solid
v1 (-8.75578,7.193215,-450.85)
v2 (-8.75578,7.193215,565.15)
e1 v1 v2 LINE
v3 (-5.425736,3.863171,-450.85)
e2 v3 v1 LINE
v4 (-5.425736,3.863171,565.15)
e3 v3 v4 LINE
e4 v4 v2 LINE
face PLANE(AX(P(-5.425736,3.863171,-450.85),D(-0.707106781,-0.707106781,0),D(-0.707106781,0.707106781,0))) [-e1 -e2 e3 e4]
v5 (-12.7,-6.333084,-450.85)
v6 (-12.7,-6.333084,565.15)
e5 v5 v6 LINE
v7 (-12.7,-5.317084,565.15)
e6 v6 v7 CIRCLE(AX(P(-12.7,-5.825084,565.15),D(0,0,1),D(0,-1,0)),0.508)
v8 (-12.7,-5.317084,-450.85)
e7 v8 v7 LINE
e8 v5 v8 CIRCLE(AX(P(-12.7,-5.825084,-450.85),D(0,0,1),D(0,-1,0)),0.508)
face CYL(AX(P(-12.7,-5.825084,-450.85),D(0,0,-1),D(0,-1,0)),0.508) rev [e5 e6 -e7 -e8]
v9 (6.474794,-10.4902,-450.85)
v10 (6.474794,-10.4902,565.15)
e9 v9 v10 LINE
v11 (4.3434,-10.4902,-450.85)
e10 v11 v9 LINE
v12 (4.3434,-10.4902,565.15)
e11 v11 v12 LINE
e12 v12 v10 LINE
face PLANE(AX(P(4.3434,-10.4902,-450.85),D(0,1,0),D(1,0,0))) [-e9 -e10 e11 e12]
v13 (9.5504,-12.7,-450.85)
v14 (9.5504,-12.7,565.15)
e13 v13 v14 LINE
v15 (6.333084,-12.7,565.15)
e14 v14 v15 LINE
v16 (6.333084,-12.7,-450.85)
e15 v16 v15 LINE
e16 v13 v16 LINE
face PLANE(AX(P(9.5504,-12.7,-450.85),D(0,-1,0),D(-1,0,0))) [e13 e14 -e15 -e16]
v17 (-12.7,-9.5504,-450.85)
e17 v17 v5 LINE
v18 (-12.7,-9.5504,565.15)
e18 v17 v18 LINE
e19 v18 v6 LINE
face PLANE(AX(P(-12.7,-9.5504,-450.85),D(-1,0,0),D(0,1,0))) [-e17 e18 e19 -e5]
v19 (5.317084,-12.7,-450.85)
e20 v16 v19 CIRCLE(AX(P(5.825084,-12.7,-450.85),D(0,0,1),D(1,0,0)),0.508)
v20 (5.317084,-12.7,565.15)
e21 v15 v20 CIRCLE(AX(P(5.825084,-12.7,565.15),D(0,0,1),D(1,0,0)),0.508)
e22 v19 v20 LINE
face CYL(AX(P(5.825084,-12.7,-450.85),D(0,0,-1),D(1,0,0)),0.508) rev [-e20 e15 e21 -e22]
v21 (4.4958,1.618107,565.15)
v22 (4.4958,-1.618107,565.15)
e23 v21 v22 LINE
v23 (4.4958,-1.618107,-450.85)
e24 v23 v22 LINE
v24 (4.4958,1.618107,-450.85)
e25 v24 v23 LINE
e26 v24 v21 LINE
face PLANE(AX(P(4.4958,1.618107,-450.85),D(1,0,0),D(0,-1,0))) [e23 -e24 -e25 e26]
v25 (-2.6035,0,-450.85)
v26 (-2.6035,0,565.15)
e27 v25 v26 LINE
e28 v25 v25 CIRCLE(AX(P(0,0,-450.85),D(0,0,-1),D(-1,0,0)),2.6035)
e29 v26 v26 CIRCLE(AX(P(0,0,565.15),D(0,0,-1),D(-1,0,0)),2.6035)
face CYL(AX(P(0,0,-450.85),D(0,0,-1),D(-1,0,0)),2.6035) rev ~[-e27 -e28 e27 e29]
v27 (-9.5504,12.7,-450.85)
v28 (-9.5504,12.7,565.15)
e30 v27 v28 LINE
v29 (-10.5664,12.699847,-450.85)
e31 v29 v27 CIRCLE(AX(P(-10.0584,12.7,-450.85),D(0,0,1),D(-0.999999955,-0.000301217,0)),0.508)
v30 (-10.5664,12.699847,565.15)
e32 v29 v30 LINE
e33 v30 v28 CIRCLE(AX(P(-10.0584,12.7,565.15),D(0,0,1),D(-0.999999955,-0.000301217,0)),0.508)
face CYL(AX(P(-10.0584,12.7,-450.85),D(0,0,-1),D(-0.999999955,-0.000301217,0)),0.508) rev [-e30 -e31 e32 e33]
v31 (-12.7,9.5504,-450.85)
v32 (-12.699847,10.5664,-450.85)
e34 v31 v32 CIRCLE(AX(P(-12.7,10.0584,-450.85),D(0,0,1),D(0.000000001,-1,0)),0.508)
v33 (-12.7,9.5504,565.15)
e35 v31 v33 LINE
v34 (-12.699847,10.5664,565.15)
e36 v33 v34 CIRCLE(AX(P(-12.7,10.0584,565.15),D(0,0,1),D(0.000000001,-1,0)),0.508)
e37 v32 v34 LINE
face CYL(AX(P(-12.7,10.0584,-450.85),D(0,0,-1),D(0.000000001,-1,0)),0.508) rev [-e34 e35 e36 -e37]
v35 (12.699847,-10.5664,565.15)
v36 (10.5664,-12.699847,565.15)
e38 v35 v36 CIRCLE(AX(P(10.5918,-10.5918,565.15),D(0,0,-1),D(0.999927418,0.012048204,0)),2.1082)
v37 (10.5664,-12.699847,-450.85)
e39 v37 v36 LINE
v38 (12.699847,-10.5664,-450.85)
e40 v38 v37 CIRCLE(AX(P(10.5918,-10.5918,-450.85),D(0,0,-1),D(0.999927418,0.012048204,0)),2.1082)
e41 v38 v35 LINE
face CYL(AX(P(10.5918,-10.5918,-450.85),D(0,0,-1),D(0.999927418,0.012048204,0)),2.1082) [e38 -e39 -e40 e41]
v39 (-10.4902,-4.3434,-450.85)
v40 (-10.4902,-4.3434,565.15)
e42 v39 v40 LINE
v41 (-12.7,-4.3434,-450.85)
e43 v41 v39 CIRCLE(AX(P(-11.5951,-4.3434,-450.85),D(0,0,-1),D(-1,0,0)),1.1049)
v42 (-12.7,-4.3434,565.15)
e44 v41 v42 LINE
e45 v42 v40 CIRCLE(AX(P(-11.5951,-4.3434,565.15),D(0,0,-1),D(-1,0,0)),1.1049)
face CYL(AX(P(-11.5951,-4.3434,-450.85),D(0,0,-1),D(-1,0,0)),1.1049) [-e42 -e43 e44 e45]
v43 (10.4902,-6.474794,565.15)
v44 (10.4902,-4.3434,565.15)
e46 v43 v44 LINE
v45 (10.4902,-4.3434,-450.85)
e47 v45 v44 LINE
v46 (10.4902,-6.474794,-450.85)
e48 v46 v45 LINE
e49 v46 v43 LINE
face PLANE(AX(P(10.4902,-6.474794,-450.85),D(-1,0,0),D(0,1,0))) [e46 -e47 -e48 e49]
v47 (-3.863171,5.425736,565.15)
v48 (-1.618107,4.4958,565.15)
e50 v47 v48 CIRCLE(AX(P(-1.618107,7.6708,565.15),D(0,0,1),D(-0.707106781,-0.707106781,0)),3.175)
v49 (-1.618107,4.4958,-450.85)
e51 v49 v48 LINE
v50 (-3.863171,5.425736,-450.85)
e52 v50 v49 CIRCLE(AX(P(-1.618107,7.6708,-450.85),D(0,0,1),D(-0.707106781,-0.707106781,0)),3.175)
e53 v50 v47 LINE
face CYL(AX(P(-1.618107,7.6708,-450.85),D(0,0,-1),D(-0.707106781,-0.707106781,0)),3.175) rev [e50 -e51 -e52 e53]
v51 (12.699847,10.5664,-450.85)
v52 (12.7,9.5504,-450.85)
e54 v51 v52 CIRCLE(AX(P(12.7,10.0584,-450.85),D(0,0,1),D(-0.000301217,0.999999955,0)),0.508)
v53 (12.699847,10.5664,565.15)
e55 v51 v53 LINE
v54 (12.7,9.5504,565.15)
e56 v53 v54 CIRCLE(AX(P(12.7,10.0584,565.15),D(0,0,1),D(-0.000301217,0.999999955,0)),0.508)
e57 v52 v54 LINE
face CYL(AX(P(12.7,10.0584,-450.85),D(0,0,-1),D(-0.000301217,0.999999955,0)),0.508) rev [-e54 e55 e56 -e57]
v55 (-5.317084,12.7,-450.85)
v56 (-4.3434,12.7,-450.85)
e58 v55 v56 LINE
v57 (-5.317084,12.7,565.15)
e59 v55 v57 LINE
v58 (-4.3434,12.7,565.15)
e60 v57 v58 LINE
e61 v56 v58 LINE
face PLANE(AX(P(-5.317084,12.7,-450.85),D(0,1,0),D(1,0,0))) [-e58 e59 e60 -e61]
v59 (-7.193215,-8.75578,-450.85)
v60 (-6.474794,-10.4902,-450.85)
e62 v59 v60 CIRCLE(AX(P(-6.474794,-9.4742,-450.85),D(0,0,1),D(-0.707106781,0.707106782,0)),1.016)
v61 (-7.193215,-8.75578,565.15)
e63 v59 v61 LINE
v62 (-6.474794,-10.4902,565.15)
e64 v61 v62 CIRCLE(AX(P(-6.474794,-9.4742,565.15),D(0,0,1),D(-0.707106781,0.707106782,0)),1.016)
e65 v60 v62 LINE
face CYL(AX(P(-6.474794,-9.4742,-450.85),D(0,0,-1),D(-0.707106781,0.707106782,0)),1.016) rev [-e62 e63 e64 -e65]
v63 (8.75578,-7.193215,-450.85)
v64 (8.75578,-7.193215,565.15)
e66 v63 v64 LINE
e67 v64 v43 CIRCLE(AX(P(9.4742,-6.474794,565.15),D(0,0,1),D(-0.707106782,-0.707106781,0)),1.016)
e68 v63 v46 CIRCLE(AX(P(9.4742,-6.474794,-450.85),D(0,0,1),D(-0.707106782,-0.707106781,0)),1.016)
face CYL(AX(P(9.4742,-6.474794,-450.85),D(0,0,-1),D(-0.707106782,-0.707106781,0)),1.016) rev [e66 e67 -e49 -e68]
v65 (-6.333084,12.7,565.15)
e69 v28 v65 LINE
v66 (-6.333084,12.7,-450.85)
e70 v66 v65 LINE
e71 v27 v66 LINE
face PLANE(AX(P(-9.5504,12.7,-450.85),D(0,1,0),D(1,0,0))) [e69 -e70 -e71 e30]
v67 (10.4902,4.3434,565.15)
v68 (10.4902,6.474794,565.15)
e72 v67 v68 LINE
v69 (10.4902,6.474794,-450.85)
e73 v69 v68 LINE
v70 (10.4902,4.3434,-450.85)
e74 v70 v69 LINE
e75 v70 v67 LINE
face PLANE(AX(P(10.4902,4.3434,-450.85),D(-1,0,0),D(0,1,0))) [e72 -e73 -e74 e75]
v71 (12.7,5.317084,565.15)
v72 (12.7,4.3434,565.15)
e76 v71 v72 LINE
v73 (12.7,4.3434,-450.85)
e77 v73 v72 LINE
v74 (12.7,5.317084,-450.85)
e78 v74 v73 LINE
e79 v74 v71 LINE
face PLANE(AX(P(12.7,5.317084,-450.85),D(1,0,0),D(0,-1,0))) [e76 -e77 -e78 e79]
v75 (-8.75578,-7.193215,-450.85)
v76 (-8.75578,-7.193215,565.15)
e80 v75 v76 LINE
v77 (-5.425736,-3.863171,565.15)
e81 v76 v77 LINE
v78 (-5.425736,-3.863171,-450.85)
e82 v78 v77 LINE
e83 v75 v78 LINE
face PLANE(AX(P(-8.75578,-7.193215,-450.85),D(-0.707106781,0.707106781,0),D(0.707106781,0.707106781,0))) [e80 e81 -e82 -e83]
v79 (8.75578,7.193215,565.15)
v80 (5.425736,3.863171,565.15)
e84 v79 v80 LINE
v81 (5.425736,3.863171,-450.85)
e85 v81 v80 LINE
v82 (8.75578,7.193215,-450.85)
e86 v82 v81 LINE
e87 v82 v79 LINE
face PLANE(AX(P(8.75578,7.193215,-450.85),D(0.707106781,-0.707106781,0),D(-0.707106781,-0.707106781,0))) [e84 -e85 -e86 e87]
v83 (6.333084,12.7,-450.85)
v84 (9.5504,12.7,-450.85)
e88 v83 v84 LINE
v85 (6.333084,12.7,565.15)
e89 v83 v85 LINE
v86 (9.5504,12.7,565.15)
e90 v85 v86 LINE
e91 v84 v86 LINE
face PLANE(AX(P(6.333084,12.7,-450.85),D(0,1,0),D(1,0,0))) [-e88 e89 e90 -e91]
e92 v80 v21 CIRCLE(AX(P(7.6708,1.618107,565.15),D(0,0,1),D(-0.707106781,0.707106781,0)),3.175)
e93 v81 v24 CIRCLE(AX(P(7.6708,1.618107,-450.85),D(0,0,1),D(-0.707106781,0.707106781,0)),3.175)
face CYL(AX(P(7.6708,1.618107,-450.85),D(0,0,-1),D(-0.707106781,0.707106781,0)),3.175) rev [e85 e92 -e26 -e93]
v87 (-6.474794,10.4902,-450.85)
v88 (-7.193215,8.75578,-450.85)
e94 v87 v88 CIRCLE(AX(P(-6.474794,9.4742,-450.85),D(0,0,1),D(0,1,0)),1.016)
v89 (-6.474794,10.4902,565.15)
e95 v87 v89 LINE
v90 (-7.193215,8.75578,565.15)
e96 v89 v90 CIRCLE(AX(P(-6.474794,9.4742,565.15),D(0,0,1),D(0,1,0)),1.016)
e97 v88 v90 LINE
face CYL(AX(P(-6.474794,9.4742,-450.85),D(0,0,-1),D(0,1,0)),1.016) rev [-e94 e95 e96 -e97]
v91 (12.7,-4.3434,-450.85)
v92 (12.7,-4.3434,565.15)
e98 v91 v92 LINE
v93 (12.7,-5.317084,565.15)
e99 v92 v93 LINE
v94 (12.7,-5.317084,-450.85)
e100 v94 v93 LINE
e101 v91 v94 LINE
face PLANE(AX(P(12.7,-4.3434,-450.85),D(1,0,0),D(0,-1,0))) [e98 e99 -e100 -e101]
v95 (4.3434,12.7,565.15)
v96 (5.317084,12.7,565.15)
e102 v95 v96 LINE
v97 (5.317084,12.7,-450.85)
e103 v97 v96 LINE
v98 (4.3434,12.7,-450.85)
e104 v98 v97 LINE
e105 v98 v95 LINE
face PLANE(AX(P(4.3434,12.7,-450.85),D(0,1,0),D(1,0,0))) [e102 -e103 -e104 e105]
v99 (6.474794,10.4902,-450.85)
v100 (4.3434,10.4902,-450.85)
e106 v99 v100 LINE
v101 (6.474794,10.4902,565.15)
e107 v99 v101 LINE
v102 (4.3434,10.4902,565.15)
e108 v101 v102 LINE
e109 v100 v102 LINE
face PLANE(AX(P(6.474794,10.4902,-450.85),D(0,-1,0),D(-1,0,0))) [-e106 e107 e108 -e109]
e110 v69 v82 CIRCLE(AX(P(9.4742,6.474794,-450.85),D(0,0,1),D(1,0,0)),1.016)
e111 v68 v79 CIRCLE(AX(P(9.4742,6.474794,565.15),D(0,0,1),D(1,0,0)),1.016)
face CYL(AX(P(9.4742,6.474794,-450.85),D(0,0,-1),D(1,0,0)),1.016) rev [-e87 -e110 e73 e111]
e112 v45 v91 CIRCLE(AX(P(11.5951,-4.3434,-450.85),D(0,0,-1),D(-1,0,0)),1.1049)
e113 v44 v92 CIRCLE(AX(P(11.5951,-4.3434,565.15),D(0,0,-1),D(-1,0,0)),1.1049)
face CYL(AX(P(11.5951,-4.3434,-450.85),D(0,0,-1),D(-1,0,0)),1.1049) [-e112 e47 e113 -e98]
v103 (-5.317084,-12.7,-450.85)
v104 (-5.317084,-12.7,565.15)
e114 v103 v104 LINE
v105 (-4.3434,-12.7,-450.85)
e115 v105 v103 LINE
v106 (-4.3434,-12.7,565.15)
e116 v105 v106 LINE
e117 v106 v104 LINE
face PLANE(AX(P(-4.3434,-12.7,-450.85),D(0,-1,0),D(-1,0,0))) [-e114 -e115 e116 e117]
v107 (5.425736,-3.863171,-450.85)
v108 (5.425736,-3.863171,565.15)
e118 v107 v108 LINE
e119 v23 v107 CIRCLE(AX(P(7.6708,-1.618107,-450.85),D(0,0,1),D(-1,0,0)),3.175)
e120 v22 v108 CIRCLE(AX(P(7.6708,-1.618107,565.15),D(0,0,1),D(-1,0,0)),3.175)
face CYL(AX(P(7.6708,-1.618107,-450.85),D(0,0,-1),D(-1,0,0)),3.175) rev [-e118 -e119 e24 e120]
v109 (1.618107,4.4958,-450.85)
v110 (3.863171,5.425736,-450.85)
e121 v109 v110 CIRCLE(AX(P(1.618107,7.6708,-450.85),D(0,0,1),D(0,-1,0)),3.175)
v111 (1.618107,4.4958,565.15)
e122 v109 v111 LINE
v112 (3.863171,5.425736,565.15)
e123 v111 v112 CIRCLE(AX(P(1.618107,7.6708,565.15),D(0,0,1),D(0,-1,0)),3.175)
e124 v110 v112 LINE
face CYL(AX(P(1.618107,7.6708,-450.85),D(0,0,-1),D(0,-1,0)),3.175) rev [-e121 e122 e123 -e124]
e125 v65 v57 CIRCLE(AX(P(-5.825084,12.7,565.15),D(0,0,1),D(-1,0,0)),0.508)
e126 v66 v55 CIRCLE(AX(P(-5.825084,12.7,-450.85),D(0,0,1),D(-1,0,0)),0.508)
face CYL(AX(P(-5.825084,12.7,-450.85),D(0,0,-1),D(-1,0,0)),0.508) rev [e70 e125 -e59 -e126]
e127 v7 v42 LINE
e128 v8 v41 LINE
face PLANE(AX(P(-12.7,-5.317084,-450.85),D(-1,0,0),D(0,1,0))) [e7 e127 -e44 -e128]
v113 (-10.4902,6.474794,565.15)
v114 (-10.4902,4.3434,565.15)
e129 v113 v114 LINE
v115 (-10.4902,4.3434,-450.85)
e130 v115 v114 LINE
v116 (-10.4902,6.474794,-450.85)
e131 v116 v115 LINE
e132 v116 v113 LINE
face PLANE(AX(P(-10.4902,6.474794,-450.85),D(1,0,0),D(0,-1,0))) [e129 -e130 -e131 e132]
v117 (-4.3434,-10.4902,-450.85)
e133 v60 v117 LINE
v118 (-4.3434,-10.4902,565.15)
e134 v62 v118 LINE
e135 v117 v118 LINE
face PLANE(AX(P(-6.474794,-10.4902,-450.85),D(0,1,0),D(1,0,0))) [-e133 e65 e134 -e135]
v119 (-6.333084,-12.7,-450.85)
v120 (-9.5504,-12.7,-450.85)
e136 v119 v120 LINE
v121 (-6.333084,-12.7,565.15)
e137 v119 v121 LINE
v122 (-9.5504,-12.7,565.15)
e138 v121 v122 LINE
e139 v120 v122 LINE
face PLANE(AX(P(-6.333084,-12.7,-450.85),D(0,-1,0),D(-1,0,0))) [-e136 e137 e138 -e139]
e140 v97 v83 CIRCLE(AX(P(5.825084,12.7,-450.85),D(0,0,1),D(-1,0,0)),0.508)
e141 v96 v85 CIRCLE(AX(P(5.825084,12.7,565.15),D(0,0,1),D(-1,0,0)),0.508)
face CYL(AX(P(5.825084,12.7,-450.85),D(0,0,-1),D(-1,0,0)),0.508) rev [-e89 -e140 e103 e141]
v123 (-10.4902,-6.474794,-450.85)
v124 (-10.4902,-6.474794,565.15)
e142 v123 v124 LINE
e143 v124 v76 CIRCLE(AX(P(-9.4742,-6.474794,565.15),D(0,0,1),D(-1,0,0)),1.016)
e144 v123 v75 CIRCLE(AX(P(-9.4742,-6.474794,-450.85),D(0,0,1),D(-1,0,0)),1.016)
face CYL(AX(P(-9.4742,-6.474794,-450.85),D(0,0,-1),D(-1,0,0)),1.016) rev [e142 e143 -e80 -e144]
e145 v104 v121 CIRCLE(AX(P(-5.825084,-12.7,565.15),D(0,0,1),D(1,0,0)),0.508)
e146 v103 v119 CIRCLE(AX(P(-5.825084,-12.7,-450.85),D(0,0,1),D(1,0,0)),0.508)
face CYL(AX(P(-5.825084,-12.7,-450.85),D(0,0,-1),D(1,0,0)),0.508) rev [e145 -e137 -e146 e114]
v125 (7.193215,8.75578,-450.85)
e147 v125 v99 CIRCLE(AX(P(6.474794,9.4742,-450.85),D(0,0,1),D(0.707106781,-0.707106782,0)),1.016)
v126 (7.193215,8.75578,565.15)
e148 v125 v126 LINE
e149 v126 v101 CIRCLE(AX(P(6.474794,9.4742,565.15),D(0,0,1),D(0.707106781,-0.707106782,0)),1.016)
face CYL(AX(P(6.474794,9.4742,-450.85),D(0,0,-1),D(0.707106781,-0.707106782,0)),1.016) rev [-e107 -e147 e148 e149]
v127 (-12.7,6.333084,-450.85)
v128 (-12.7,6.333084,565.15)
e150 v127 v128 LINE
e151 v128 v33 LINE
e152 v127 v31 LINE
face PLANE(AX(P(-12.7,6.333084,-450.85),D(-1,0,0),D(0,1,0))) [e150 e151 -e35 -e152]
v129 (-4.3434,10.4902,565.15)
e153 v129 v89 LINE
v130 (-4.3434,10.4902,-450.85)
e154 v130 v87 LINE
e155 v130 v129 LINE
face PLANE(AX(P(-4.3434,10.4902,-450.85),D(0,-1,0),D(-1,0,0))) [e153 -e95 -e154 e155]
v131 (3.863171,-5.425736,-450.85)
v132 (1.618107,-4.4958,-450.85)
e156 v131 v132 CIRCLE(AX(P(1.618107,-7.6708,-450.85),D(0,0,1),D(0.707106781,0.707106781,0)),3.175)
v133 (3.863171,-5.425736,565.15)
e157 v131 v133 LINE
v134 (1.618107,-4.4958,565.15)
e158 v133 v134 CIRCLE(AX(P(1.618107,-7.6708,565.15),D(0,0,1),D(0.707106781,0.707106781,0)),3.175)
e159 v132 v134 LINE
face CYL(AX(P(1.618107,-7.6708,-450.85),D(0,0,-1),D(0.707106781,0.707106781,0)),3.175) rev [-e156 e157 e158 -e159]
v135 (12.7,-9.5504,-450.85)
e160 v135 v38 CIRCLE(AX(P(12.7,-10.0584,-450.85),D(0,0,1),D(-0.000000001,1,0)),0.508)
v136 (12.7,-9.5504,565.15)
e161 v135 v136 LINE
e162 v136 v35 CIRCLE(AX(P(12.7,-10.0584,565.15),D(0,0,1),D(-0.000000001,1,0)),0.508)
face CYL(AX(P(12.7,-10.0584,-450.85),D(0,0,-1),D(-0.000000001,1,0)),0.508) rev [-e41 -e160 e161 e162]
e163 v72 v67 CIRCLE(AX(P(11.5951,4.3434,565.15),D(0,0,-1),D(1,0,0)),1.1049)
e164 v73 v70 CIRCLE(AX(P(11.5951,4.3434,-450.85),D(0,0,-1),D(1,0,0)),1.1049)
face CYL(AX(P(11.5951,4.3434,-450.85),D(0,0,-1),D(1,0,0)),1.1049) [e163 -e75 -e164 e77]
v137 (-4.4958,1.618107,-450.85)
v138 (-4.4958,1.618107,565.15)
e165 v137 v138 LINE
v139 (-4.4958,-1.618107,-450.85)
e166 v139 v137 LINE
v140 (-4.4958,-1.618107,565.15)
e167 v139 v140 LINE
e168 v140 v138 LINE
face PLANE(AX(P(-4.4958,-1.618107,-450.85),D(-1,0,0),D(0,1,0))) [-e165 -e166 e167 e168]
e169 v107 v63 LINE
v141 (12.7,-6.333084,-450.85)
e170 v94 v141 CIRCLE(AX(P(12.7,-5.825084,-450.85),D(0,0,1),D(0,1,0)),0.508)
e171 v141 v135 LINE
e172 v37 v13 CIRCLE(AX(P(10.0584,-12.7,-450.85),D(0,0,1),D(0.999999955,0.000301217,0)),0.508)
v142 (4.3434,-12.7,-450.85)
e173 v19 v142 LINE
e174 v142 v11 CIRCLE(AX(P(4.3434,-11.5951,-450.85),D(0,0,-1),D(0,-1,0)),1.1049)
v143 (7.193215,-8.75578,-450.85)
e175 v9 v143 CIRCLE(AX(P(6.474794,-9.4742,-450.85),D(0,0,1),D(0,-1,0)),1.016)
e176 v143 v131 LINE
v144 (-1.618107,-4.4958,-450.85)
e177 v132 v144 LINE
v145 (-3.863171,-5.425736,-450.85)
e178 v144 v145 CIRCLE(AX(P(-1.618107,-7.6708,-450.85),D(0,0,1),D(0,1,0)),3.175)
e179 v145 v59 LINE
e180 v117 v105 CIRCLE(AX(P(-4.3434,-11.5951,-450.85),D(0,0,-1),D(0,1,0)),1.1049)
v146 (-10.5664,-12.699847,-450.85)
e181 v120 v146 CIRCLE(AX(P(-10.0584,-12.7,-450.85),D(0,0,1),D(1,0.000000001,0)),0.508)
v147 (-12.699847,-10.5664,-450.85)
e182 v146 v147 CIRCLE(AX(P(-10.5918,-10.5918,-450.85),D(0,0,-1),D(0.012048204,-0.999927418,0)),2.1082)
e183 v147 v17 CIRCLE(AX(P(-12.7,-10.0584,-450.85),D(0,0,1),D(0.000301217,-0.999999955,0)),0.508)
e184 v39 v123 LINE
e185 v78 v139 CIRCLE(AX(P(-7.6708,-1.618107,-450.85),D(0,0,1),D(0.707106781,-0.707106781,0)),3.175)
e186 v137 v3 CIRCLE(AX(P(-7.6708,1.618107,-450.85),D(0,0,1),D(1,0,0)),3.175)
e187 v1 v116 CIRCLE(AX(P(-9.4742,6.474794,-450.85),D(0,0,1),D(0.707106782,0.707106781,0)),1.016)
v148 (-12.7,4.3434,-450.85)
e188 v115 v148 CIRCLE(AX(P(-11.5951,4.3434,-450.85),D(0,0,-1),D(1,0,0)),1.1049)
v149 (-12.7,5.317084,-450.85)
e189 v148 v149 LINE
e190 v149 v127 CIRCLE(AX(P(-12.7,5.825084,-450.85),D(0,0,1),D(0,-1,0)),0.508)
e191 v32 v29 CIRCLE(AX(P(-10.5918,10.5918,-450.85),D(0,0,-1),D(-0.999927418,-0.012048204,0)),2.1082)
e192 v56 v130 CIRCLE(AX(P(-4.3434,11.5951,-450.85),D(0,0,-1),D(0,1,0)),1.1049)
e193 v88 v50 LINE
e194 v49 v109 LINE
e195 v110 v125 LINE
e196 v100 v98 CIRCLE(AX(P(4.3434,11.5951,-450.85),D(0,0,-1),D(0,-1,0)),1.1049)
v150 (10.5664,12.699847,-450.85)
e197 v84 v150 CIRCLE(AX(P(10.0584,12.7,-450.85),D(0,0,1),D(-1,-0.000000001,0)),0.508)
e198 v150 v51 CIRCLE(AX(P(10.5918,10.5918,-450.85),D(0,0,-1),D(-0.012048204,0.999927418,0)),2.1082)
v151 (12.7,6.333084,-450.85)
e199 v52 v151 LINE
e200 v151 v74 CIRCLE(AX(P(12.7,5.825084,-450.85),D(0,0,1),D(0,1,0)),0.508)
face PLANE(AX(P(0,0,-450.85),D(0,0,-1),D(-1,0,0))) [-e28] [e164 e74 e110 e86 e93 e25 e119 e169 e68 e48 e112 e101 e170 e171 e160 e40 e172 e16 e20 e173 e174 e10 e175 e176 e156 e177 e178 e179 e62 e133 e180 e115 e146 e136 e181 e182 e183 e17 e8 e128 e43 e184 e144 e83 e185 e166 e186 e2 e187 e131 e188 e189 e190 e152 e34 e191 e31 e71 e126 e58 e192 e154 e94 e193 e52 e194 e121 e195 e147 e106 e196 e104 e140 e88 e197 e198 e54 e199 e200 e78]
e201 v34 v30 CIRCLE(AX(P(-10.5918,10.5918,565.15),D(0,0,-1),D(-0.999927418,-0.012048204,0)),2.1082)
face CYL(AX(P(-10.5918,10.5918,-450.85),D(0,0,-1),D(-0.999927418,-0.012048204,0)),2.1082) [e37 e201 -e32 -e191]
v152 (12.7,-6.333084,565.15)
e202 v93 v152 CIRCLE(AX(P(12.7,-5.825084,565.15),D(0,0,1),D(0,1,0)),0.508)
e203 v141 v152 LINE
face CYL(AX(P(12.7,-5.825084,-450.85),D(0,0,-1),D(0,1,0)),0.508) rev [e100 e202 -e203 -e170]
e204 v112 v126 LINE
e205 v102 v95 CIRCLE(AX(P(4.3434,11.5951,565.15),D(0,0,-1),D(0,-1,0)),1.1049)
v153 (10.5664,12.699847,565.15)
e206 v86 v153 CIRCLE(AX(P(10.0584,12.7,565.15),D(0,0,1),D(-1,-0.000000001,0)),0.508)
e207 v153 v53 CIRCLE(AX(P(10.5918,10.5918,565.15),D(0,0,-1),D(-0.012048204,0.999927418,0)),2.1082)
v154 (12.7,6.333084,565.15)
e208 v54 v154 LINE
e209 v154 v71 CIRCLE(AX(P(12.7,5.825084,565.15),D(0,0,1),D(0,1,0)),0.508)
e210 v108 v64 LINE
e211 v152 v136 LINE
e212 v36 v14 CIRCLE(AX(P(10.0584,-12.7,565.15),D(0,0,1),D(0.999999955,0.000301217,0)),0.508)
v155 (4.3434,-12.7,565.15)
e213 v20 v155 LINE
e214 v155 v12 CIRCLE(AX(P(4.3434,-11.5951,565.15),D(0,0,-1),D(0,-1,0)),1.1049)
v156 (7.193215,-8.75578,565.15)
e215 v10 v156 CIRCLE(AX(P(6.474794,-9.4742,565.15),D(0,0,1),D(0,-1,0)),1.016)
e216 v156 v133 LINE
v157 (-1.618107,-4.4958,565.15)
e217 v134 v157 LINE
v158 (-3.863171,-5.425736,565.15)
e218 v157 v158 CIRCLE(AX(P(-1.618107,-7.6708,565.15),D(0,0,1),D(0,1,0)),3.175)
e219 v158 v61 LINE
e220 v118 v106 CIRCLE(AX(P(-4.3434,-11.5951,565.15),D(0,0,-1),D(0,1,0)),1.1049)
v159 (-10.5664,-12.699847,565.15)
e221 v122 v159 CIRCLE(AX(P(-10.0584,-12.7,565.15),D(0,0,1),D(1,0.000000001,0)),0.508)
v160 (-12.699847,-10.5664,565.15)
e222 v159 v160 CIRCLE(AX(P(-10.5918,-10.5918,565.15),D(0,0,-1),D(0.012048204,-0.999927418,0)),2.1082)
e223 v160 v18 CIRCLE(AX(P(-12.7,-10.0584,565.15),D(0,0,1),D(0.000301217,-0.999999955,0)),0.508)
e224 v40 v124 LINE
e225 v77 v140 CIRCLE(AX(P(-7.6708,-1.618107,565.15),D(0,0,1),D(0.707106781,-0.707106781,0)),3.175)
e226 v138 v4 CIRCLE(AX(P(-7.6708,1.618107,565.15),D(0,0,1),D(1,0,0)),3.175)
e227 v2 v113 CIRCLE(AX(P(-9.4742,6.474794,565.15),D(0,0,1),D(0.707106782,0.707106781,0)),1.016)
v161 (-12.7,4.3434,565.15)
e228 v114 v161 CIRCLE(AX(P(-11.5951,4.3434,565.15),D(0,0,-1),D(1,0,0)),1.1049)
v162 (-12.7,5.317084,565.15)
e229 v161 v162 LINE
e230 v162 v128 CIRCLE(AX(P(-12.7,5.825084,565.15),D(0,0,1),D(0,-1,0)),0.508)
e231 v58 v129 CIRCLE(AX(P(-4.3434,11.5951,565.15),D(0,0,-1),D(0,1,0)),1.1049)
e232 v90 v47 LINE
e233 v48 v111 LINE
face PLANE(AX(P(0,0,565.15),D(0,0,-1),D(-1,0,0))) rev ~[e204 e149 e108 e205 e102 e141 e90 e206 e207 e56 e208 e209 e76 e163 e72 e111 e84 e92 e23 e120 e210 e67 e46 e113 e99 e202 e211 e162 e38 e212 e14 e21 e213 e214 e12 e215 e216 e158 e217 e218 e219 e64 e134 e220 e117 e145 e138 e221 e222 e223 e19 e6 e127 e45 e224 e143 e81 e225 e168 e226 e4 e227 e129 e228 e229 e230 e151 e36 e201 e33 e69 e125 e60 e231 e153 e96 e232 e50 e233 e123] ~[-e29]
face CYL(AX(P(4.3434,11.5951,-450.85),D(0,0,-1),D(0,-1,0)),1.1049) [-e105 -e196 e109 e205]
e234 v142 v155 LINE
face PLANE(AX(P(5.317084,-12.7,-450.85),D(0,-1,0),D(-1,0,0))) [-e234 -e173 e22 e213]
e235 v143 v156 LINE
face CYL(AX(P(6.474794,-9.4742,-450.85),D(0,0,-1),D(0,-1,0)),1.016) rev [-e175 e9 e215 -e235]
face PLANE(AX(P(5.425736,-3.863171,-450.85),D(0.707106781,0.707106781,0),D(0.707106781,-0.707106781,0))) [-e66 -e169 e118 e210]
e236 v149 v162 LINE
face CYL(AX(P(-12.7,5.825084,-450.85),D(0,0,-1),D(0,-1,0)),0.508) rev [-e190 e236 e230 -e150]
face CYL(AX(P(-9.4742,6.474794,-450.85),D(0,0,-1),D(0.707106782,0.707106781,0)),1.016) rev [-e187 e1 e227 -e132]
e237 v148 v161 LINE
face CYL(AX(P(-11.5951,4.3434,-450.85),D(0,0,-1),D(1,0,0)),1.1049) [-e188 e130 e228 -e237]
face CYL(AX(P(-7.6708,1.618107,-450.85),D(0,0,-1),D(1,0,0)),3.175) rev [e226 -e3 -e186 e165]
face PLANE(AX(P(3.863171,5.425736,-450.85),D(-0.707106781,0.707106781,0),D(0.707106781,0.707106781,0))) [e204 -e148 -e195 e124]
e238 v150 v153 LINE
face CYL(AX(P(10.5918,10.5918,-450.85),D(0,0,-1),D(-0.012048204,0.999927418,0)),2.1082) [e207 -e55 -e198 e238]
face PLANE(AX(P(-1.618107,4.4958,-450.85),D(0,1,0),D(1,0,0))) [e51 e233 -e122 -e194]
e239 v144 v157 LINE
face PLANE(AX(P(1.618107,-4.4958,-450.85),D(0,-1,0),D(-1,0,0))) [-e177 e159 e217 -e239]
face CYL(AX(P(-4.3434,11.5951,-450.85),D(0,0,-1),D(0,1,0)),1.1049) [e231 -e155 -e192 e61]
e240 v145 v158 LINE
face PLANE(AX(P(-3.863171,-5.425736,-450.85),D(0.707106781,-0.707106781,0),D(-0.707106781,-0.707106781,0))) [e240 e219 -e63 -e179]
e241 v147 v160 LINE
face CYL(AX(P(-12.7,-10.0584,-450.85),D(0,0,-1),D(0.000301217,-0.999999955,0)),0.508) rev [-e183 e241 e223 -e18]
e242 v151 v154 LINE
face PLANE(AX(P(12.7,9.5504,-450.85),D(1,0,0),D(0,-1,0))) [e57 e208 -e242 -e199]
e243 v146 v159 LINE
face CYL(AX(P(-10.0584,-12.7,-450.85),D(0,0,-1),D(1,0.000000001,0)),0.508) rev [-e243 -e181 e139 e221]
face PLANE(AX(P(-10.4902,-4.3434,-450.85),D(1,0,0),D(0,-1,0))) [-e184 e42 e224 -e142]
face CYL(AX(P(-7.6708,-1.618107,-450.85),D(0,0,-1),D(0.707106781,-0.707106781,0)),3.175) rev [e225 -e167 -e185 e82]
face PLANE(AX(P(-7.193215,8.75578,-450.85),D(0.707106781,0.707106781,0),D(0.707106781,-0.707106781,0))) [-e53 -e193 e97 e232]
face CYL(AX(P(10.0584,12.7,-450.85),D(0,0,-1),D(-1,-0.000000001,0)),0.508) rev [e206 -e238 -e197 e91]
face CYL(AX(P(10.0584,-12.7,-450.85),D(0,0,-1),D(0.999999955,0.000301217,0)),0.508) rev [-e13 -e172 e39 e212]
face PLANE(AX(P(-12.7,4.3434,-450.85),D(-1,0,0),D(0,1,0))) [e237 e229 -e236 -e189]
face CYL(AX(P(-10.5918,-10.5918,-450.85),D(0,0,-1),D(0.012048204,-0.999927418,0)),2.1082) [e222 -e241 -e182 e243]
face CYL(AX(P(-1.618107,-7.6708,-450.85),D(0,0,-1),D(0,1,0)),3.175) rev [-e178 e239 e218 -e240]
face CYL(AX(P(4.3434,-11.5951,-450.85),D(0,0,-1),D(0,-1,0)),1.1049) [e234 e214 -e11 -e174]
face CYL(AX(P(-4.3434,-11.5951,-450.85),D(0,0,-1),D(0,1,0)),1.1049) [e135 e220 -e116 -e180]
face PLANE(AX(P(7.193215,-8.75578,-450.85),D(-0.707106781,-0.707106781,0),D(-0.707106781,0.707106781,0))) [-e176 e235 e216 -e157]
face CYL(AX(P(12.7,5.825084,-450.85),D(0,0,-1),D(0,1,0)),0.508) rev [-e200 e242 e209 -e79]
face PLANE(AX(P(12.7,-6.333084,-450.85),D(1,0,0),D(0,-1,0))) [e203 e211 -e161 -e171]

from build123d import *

# Parameters (mm, degrees)
SKETCH1_R           = 2.6035
BOSS_EXTRUDE1_DEPTH = 1016


with BuildPart() as part:
    # Sketch1 → Boss-Extrude1 (new body)
    with BuildSketch(Plane(origin=(0, 0, -450.85), x_dir=(-1, 0, 0), z_dir=(0, 0, -1))):
        with BuildLine():
            Line((12.7, -9.5504), (12.7, -6.3330836))
            ThreePointArc((12.7, -6.3330836), (12.192, -5.8250836), (12.7, -5.3170836))
            Line((12.7, -5.3170836), (12.7, -4.3434))
            ThreePointArc((12.7, -4.3434), (11.5951, -3.2385), (10.4902, -4.3434))
            Line((10.4902, -4.3434), (10.4902, -6.474794456))
            ThreePointArc((10.4902, -6.474794456), (9.863006367, -7.413456061), (8.75577951, -7.193214945))
            Line((8.75577951, -7.193214945), (5.42573597, -3.863171405))
            ThreePointArc((5.42573597, -3.863171405), (4.737482484, -2.833127272), (4.4958, -1.618107374))
            Line((4.4958, -1.618107374), (4.4958, 1.618107374))
            ThreePointArc((4.4958, 1.618107374), (4.737482484, 2.833127272), (5.42573597, 3.863171405))
            Line((5.42573597, 3.863171405), (8.75577951, 7.193214945))
            ThreePointArc((8.75577951, 7.193214945), (9.863006367, 7.413456061), (10.4902, 6.474794456))
            Line((10.4902, 6.474794456), (10.4902, 4.343399971))
            ThreePointArc((10.4902, 4.343399971), (11.5951, 3.238499971), (12.7, 4.343399971))
            Line((12.7, 4.343399971), (12.7, 5.3170836))
            ThreePointArc((12.7, 5.3170836), (12.192, 5.8250836), (12.7, 6.3330836))
            Line((12.7, 6.3330836), (12.7, 9.5504))
            ThreePointArc((12.7, 9.5504), (12.192000006, 10.058323491), (12.699846982, 10.566399977))
            ThreePointArc((12.699846982, 10.566399977), (12.082522516, 12.082522516), (10.566399977, 12.699846982))
            ThreePointArc((10.566399977, 12.699846982), (10.058323491, 12.192000006), (9.5504, 12.7))
            Line((9.5504, 12.7), (6.3330836, 12.7))
            ThreePointArc((6.3330836, 12.7), (5.8250836, 12.192), (5.3170836, 12.7))
            Line((5.3170836, 12.7), (4.3434, 12.7))
            ThreePointArc((4.3434, 12.7), (3.2385, 11.5951), (4.3434, 10.4902))
            Line((4.3434, 10.4902), (6.474794456, 10.4902))
            ThreePointArc((6.474794456, 10.4902), (7.413456061, 9.863006367), (7.193214945, 8.75577951))
            Line((7.193214945, 8.75577951), (3.863171405, 5.42573597))
            ThreePointArc((3.863171405, 5.42573597), (2.833127272, 4.737482484), (1.618107374, 4.4958))
            Line((1.618107374, 4.4958), (-1.618107374, 4.4958))
            ThreePointArc((-1.618107374, 4.4958), (-2.833127272, 4.737482484), (-3.863171405, 5.42573597))
            Line((-3.863171405, 5.42573597), (-7.193214945, 8.75577951))
            ThreePointArc((-7.193214945, 8.75577951), (-7.413456061, 9.863006367), (-6.474794456, 10.4902))
            Line((-6.474794456, 10.4902), (-4.343399971, 10.4902))
            ThreePointArc((-4.343399971, 10.4902), (-3.238499971, 11.5951), (-4.343399971, 12.7))
            Line((-4.343399971, 12.7), (-5.3170836, 12.7))
            ThreePointArc((-5.3170836, 12.7), (-5.8250836, 12.192), (-6.3330836, 12.7))
            Line((-6.3330836, 12.7), (-9.5504, 12.7))
            ThreePointArc((-9.5504, 12.7), (-10.058323491, 12.192000006), (-10.566399977, 12.699846982))
            ThreePointArc((-10.566399977, 12.699846982), (-12.082522516, 12.082522516), (-12.699846982, 10.566399977))
            ThreePointArc((-12.699846982, 10.566399977), (-12.192000006, 10.058323491), (-12.7, 9.5504))
            Line((-12.7, 9.5504), (-12.7, 6.3330836))
            ThreePointArc((-12.7, 6.3330836), (-12.192, 5.8250836), (-12.7, 5.3170836))
            Line((-12.7, 5.3170836), (-12.7, 4.3434))
            ThreePointArc((-12.7, 4.3434), (-11.5951, 3.2385), (-10.4902, 4.3434))
            Line((-10.4902, 4.3434), (-10.4902, 6.474794456))
            ThreePointArc((-10.4902, 6.474794456), (-9.863006367, 7.413456061), (-8.75577951, 7.193214945))
            Line((-8.75577951, 7.193214945), (-5.42573597, 3.863171405))
            ThreePointArc((-5.42573597, 3.863171405), (-4.737482484, 2.833127272), (-4.4958, 1.618107374))
            Line((-4.4958, 1.618107374), (-4.4958, -1.618107374))
            ThreePointArc((-4.4958, -1.618107374), (-4.737482484, -2.833127272), (-5.42573597, -3.863171405))
            Line((-5.42573597, -3.863171405), (-8.75577951, -7.193214945))
            ThreePointArc((-8.75577951, -7.193214945), (-9.863006367, -7.413456061), (-10.4902, -6.474794456))
            Line((-10.4902, -6.474794456), (-10.4902, -4.343399971))
            ThreePointArc((-10.4902, -4.343399971), (-11.5951, -3.238499971), (-12.7, -4.343399971))
            Line((-12.7, -4.343399971), (-12.7, -5.3170836))
            ThreePointArc((-12.7, -5.3170836), (-12.192, -5.8250836), (-12.7, -6.3330836))
            Line((-12.7, -6.3330836), (-12.7, -9.5504))
            ThreePointArc((-12.7, -9.5504), (-12.192000006, -10.058323491), (-12.699846982, -10.566399977))
            ThreePointArc((-12.699846982, -10.566399977), (-12.082522516, -12.082522516), (-10.566399977, -12.699846982))
            ThreePointArc((-10.566399977, -12.699846982), (-10.058323491, -12.192000006), (-9.5504, -12.7))
            Line((-9.5504, -12.7), (-6.3330836, -12.7))
            ThreePointArc((-6.3330836, -12.7), (-5.8250836, -12.192), (-5.3170836, -12.7))
            Line((-5.3170836, -12.7), (-4.3434, -12.7))
            ThreePointArc((-4.3434, -12.7), (-3.2385, -11.5951), (-4.3434, -10.4902))
            Line((-4.3434, -10.4902), (-6.474794456, -10.4902))
            ThreePointArc((-6.474794456, -10.4902), (-7.413456061, -9.863006367), (-7.193214945, -8.75577951))
            Line((-7.193214945, -8.75577951), (-3.863171405, -5.42573597))
            ThreePointArc((-3.863171405, -5.42573597), (-2.833127272, -4.737482484), (-1.618107374, -4.4958))
            Line((-1.618107374, -4.4958), (1.618107374, -4.4958))
            ThreePointArc((1.618107374, -4.4958), (2.833127272, -4.737482484), (3.863171405, -5.42573597))
            Line((3.863171405, -5.42573597), (7.193214945, -8.75577951))
            ThreePointArc((7.193214945, -8.75577951), (7.413456061, -9.863006367), (6.474794456, -10.4902))
            Line((6.474794456, -10.4902), (4.343399971, -10.4902))
            ThreePointArc((4.343399971, -10.4902), (3.238499971, -11.5951), (4.343399971, -12.7))
            Line((4.343399971, -12.7), (5.3170836, -12.7))
            ThreePointArc((5.3170836, -12.7), (5.8250836, -12.192), (6.3330836, -12.7))
            Line((6.3330836, -12.7), (9.5504, -12.7))
            ThreePointArc((9.5504, -12.7), (10.058323491, -12.192000006), (10.566399977, -12.699846982))
            ThreePointArc((10.566399977, -12.699846982), (12.082522516, -12.082522516), (12.699846982, -10.566399977))
            ThreePointArc((12.699846982, -10.566399977), (12.192000006, -10.058323491), (12.7, -9.5504))
        make_face()
        Circle(SKETCH1_R, mode=Mode.SUBTRACT)
    extrude(amount=-BOSS_EXTRUDE1_DEPTH)


solid = part.part
